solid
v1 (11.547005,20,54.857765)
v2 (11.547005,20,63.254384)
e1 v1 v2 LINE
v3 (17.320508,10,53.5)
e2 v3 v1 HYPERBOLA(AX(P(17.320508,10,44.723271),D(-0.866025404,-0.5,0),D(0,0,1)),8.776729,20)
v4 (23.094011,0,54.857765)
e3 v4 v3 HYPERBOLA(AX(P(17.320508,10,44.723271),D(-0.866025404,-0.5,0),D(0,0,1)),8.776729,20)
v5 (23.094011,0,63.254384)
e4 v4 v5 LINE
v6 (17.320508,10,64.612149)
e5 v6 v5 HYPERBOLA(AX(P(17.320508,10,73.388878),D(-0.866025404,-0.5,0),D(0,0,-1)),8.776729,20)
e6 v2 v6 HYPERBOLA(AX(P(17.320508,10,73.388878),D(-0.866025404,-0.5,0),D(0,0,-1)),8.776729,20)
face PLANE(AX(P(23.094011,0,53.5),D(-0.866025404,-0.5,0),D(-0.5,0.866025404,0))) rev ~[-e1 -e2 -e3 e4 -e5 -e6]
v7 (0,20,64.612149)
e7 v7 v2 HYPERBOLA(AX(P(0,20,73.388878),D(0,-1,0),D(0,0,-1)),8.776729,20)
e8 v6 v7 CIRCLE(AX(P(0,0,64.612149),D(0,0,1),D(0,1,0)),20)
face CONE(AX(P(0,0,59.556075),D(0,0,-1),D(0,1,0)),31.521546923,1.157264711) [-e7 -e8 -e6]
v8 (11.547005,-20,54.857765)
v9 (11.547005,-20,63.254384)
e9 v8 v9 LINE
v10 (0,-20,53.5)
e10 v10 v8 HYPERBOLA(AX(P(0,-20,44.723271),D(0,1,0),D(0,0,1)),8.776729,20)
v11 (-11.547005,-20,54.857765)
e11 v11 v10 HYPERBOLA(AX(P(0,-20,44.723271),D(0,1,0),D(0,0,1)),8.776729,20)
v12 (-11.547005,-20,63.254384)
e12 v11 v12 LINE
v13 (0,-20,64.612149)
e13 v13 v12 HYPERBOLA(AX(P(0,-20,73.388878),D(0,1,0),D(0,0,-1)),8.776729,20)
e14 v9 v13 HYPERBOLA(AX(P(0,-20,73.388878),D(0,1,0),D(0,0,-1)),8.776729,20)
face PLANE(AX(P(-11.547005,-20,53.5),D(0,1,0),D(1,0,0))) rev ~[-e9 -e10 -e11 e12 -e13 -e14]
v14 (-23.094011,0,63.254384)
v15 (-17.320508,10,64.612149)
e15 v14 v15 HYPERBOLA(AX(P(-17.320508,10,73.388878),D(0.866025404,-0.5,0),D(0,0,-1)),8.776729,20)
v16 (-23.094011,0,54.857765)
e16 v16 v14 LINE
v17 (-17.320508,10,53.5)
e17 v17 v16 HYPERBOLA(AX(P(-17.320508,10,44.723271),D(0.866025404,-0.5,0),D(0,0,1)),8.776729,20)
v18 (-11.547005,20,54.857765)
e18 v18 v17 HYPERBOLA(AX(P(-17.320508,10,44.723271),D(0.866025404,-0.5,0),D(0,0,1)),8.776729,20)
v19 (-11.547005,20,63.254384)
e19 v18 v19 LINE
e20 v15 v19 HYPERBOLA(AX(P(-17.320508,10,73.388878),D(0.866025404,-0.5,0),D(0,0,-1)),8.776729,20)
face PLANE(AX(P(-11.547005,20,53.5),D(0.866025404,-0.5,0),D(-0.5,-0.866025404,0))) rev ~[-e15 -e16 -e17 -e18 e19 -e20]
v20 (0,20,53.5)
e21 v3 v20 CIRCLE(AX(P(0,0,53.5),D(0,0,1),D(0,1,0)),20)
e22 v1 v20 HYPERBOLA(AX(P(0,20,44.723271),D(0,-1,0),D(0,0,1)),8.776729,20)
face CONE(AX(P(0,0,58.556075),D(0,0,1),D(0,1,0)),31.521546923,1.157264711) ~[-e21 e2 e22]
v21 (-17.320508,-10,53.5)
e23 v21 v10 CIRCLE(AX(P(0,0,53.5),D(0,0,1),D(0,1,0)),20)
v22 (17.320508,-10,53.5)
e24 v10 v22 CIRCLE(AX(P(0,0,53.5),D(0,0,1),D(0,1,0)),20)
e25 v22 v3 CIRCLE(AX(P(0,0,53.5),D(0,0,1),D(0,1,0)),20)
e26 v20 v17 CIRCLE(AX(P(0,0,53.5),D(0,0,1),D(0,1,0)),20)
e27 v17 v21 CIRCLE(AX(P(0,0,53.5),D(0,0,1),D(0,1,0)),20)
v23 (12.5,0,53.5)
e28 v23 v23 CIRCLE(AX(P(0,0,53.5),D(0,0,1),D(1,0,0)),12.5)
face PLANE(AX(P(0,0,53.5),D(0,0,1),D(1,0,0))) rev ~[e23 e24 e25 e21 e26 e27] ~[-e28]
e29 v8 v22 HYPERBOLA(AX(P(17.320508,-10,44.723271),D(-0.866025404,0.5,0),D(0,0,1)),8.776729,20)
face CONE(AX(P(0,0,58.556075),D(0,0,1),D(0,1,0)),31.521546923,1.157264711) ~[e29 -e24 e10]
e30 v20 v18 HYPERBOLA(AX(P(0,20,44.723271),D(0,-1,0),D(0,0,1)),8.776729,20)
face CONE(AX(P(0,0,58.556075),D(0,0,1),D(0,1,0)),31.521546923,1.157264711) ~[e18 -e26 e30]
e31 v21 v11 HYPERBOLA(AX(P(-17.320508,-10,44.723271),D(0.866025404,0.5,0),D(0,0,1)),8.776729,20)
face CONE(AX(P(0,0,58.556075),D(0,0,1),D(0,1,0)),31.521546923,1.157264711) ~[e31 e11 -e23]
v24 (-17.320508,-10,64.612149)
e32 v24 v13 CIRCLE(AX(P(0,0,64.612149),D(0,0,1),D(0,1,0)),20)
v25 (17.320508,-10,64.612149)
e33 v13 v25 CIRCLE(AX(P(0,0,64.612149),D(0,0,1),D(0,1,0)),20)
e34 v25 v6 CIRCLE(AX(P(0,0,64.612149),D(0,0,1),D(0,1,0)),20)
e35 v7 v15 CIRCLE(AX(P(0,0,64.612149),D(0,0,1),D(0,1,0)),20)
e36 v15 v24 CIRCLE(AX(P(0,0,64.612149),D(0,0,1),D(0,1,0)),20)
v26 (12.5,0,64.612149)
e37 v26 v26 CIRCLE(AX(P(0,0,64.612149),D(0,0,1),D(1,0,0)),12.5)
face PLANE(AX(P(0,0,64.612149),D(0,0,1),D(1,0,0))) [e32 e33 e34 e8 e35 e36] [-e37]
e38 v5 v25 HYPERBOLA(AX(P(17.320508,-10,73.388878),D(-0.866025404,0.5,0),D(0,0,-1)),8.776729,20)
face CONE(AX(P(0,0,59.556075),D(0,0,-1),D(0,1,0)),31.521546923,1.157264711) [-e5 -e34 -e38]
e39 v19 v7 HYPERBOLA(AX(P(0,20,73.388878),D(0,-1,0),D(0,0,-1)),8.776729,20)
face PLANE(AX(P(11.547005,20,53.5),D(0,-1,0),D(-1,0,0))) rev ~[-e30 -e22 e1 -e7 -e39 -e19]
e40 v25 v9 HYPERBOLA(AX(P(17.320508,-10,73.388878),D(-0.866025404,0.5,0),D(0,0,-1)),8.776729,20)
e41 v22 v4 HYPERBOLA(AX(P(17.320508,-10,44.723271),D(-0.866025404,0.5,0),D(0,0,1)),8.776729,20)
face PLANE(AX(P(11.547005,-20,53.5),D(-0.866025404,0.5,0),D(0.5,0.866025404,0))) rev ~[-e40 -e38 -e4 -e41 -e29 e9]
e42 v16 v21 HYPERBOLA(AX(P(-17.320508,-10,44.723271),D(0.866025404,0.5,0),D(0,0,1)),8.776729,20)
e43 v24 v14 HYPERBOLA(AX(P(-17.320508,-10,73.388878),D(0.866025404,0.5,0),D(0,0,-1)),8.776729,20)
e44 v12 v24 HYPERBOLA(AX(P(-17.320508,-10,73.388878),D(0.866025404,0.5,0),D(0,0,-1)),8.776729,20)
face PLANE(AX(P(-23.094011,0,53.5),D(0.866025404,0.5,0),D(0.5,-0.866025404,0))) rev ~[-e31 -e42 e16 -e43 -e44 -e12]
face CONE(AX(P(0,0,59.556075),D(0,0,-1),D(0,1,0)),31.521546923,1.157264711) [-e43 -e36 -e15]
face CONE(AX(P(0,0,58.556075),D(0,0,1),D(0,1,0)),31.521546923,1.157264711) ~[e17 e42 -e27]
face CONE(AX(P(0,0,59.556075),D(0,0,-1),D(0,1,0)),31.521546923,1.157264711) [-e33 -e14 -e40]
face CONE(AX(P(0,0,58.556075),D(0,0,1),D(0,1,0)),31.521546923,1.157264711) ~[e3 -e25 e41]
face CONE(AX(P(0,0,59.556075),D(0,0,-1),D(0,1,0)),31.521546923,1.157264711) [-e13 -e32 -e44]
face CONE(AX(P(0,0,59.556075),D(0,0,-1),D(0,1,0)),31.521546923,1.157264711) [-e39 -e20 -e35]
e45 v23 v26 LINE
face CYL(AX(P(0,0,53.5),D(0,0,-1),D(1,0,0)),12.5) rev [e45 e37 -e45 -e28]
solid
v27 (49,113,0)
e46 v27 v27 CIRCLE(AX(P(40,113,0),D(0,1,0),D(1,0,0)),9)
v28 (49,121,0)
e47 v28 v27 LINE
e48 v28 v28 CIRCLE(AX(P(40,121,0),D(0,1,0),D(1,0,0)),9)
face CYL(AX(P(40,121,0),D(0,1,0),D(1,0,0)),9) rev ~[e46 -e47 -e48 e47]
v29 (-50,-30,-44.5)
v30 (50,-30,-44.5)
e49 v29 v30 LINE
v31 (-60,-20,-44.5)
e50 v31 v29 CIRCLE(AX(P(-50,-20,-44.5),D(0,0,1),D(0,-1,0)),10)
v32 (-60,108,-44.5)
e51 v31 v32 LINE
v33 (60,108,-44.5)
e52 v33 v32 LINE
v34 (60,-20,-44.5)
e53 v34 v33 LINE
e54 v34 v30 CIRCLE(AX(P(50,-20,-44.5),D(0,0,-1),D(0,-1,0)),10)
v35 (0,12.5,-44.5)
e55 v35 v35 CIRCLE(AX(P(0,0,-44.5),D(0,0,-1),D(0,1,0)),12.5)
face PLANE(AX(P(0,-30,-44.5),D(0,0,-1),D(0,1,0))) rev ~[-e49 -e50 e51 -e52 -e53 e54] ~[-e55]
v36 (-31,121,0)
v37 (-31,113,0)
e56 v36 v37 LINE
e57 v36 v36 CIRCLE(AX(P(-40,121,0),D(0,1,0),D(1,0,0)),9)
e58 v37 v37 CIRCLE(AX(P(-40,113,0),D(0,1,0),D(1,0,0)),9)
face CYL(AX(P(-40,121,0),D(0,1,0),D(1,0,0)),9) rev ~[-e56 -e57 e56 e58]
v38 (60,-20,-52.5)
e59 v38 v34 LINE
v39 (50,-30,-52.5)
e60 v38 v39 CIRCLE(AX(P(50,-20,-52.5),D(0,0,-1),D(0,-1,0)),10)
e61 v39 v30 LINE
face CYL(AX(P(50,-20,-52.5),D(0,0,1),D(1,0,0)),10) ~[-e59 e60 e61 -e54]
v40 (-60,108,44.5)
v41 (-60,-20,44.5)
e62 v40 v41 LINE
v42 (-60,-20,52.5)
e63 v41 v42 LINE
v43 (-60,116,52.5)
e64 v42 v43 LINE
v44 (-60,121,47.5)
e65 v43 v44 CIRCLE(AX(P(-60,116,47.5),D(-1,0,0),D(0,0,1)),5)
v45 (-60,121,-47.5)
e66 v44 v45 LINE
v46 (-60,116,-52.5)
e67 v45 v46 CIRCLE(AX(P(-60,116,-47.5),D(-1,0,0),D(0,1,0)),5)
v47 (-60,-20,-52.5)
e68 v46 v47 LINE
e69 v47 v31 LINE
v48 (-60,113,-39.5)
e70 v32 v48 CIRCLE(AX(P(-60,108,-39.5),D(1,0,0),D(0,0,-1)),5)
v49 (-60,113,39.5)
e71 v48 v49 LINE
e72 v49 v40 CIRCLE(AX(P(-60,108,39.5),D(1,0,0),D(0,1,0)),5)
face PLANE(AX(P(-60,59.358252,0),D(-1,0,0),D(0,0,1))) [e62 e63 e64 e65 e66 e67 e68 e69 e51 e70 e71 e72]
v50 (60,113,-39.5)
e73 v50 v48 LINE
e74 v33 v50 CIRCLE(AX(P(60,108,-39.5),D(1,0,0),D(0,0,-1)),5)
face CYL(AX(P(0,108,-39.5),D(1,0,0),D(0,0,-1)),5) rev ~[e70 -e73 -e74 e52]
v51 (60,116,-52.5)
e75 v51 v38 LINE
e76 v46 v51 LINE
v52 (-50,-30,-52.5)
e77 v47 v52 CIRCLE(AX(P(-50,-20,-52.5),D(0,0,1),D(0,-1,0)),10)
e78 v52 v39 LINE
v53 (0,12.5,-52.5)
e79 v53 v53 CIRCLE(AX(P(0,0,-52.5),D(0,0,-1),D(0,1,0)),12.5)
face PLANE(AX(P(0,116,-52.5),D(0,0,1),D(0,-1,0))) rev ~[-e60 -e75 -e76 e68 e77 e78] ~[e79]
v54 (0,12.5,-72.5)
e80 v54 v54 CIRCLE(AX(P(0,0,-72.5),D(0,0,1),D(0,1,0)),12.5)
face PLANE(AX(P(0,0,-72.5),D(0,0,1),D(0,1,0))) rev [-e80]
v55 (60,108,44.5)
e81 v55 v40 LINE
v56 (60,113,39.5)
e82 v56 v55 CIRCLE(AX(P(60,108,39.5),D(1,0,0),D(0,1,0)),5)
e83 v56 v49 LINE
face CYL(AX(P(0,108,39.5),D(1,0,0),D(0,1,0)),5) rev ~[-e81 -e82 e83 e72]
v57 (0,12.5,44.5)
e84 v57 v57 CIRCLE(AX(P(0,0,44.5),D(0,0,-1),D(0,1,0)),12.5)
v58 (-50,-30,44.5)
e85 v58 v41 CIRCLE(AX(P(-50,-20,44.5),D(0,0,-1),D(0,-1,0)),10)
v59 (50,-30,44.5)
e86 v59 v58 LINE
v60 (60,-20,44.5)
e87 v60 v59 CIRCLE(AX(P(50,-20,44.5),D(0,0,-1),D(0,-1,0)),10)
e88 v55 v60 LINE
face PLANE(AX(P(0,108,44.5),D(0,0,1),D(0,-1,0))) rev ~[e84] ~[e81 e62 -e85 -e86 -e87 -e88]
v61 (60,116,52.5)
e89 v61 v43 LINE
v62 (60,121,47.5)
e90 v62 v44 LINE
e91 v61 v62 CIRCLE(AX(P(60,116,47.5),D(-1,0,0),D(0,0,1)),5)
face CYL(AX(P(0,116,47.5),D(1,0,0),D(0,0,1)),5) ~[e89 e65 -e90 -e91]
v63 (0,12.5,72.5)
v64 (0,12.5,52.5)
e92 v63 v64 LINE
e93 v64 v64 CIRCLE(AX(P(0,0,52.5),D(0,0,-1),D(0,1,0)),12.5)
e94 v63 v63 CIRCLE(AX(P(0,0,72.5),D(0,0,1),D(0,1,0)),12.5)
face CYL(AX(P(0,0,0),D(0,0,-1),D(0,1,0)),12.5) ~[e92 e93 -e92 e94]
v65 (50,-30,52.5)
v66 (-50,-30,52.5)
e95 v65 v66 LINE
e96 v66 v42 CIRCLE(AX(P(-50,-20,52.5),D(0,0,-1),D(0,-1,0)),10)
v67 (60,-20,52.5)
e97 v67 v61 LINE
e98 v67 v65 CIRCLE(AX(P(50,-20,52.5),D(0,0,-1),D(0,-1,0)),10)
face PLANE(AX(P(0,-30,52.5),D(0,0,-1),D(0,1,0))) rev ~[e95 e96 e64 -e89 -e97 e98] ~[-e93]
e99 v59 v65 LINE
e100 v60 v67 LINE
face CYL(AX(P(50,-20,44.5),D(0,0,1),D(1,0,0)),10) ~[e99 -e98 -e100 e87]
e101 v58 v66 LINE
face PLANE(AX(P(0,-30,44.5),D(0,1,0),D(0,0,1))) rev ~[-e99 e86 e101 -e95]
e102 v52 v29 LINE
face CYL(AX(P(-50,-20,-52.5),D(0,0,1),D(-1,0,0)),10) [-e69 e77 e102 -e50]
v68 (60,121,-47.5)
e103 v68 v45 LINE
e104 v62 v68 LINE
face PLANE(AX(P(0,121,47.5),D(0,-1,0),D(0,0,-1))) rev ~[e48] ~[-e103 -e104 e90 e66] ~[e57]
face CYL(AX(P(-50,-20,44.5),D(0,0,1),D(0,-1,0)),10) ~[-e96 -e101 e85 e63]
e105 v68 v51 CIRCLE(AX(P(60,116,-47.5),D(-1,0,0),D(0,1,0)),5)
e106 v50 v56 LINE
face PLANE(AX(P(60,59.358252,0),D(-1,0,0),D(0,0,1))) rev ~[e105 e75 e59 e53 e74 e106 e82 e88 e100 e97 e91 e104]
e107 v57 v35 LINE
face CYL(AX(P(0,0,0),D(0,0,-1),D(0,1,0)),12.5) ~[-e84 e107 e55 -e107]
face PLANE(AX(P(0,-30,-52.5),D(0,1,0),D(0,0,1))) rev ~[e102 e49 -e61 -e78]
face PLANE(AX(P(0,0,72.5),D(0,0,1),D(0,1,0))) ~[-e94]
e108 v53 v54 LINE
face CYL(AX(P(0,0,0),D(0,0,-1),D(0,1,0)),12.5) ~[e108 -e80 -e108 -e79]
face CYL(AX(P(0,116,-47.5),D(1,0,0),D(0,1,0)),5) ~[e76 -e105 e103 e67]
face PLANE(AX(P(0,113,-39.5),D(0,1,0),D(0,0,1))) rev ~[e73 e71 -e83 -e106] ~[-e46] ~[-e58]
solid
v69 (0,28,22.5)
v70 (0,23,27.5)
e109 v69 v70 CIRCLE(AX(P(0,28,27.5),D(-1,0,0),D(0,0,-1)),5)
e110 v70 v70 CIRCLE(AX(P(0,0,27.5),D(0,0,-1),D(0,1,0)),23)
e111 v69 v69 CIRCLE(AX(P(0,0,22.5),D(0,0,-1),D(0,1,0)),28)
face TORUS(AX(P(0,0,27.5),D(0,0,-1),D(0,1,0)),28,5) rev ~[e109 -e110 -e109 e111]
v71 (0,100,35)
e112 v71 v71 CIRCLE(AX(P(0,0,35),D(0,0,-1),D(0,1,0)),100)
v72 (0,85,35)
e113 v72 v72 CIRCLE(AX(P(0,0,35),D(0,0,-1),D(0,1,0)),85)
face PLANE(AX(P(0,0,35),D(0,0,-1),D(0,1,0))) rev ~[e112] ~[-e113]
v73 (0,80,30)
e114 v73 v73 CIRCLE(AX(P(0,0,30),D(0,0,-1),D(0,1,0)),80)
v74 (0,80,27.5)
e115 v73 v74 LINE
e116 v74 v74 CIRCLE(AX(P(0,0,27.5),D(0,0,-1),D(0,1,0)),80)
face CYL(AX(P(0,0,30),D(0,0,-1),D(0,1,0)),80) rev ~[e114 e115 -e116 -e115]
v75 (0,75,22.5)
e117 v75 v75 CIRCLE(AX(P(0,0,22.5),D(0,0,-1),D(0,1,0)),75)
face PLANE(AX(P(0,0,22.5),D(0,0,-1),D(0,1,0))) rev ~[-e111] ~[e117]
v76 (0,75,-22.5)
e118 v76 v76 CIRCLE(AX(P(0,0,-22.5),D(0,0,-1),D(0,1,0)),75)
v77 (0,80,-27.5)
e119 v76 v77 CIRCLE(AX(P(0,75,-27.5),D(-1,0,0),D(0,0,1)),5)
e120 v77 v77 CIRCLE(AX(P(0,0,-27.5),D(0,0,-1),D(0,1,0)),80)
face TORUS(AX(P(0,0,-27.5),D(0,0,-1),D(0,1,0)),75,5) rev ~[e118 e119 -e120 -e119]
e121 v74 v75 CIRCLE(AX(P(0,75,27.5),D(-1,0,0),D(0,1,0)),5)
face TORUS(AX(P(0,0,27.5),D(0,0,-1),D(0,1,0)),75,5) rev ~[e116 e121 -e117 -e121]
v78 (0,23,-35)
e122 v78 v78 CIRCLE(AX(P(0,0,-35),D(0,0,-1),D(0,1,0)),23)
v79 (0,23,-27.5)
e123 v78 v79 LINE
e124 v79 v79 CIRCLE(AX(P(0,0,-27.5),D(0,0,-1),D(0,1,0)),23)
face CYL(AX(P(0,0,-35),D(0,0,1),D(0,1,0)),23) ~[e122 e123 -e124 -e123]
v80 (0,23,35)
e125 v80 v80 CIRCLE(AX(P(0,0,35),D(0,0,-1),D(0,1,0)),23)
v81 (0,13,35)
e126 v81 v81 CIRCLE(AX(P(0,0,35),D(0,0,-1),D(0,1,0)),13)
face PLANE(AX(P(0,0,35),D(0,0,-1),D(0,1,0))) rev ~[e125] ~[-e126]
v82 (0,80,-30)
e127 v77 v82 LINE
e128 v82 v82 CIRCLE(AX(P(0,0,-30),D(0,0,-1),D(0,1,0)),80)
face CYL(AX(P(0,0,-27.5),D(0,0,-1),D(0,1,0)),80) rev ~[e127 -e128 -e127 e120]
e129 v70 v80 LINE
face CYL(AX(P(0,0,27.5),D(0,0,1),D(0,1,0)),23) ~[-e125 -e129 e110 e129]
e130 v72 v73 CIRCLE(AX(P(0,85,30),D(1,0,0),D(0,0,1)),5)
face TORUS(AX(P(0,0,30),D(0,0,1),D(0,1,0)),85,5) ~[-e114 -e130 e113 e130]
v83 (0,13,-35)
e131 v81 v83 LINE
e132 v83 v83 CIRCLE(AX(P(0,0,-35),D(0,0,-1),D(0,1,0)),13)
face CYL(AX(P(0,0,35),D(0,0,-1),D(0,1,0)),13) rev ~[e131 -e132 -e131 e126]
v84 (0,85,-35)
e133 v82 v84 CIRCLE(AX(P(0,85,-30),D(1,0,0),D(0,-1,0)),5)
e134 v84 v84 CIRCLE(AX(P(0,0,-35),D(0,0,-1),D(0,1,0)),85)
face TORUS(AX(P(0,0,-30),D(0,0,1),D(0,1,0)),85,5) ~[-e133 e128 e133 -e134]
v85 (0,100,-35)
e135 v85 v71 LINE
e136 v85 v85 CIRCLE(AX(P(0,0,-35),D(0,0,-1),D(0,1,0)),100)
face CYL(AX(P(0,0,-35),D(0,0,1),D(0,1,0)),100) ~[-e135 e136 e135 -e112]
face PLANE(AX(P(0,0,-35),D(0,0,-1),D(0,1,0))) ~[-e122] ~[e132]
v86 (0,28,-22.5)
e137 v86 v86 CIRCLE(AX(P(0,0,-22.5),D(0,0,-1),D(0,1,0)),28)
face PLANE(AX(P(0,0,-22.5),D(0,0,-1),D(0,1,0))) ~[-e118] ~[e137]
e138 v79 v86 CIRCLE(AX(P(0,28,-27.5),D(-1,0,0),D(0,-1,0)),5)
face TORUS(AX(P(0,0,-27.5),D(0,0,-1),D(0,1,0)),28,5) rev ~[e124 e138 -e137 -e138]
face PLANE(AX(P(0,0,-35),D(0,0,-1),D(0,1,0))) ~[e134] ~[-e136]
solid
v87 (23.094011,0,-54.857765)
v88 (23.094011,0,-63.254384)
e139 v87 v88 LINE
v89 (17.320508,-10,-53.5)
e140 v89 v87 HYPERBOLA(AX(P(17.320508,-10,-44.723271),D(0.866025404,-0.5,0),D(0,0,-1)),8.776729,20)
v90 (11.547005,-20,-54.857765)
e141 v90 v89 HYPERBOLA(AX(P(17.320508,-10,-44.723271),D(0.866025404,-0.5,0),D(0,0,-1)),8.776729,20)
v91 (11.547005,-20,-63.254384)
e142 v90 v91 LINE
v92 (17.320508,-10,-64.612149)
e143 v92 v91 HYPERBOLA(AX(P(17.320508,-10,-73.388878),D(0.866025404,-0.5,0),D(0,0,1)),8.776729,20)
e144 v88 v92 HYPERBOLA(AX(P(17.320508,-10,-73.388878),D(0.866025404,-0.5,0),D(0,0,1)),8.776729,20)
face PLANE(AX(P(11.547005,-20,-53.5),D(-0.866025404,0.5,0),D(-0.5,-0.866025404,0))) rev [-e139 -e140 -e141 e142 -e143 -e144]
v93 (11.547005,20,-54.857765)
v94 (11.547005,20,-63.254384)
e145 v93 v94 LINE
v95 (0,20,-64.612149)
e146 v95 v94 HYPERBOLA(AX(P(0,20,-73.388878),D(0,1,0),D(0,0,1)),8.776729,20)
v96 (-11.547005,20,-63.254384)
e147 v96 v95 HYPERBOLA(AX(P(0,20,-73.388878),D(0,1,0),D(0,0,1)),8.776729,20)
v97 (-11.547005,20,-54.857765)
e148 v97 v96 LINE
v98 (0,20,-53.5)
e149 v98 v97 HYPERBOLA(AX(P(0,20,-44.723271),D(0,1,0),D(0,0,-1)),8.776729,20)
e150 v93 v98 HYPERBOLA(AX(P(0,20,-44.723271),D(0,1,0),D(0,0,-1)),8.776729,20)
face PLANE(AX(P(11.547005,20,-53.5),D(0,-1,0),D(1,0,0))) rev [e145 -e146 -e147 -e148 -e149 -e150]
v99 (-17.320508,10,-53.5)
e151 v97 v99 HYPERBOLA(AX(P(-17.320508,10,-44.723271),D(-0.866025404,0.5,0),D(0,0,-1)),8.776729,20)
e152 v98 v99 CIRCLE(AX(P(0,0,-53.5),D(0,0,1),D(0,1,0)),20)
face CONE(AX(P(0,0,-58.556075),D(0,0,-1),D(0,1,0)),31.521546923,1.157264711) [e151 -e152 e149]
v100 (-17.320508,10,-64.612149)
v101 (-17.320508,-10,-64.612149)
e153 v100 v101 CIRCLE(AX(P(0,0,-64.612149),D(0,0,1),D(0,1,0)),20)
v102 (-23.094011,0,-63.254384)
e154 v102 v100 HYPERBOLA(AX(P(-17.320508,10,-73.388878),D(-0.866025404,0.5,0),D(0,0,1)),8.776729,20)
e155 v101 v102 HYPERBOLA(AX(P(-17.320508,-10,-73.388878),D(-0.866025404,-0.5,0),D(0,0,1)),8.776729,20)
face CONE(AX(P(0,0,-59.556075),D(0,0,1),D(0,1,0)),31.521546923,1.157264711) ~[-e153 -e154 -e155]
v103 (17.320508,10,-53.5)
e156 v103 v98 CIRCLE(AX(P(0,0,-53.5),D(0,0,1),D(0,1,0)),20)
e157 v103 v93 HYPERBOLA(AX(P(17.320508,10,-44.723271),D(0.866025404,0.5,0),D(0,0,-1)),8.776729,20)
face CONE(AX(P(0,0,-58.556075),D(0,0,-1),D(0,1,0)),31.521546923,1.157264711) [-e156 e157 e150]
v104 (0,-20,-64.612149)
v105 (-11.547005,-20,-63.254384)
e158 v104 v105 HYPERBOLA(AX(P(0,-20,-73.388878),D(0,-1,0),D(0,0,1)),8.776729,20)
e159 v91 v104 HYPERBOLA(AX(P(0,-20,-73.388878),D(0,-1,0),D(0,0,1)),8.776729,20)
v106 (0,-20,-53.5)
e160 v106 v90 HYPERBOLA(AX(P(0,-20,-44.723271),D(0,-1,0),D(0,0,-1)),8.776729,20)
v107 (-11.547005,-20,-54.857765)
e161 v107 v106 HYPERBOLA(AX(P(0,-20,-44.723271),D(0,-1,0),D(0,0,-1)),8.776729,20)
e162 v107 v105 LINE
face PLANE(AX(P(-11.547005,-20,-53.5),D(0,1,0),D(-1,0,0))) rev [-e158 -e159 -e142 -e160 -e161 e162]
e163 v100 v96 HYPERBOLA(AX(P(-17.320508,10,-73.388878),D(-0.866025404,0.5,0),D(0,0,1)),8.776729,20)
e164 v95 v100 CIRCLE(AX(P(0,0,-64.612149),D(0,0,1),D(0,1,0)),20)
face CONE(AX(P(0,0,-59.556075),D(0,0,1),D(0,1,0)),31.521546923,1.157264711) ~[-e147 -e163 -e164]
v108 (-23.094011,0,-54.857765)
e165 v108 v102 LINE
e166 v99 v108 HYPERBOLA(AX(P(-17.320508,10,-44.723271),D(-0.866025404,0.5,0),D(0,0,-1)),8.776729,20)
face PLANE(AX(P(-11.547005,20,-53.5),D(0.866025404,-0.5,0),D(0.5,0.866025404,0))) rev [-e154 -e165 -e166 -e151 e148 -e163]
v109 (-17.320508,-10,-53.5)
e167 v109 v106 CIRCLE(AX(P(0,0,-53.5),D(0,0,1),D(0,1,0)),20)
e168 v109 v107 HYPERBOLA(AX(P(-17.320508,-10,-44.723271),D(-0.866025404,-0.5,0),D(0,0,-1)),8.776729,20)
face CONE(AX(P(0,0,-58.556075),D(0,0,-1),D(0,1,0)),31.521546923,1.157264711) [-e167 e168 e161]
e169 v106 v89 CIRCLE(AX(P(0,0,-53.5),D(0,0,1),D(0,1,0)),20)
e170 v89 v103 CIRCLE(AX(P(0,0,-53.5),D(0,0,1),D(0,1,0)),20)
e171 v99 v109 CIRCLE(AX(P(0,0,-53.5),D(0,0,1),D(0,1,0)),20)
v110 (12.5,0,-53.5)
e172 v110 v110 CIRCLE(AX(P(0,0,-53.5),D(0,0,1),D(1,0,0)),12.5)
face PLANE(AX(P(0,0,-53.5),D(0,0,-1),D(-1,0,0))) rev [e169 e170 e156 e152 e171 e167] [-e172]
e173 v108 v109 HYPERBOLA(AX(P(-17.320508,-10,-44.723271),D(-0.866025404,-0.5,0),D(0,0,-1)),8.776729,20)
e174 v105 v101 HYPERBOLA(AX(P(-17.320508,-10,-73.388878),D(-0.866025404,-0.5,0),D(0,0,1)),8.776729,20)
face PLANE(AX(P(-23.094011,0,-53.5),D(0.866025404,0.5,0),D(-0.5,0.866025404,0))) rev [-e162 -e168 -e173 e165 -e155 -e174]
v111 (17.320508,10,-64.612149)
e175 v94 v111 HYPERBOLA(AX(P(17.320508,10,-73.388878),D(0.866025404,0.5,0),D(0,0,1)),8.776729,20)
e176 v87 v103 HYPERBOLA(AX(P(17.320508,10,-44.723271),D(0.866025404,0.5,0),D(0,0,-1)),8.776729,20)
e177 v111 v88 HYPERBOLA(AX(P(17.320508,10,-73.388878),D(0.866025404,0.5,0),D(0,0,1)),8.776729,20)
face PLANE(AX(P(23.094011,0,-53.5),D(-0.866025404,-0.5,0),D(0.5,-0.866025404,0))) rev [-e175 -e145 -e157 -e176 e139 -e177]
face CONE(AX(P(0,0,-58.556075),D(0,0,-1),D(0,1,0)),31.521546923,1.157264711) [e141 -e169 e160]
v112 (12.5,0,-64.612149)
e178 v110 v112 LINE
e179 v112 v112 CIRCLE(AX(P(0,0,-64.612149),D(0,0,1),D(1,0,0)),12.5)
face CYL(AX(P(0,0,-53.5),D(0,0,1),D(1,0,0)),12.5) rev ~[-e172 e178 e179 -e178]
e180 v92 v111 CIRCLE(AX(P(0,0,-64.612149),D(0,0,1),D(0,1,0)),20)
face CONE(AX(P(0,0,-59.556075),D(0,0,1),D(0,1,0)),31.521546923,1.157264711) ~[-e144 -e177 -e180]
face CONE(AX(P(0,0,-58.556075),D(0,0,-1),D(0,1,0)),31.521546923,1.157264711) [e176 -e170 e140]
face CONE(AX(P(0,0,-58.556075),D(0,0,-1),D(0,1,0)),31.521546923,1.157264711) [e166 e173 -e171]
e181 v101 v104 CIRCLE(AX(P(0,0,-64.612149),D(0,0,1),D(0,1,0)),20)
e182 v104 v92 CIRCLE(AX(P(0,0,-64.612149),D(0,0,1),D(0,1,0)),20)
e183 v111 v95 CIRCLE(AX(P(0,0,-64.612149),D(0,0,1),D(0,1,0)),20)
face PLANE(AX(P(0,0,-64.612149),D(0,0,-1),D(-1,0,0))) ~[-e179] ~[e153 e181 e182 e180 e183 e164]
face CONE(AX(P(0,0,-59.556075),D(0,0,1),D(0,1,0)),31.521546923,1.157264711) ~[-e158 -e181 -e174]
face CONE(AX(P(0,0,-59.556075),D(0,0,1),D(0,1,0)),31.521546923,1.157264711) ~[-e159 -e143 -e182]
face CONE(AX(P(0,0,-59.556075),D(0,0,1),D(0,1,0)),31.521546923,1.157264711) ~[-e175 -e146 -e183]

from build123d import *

# Parameters (mm, degrees)
BOSS_EXTRUDE1_DEPTH = 60
FILLET2_R           = 10
SKETCH3_R           = 11.831543401
CUT_EXTRUDE1_DEPTH  = 106
SKETCH4_W           = 145
SKETCH4_H           = 12.5
BOSS_EXTRUDE2_START = 1
SKETCH5_R           = 12.5
BOSS_EXTRUDE2_DEPTH = 11.112149029
SKETCH10_R          = 9
CUT_EXTRUDE2_DEPTH  = 10


with BuildPart() as part:
    # Sketch1 → Revolve1 (revolve)
    with BuildSketch(Plane(origin=(0, 0, 0), x_dir=(0, 0, -1), z_dir=(1, 0, 0))):
        with BuildLine():
            Line((27.5, 80), (30, 80))
            ThreePointArc((30, 80), (33.535533906, 81.464466094), (35, 85))
            Line((35, 85), (35, 100))
            Line((35, 100), (-35, 100))
            Line((-35, 100), (-35, 85))
            ThreePointArc((-35, 85), (-33.535533906, 81.464466094), (-30, 80))
            Line((-30, 80), (-27.5, 80))
            ThreePointArc((-27.5, 80), (-23.964466094, 78.535533906), (-22.5, 75))
            Line((-22.5, 75), (-22.5, 28))
            ThreePointArc((-22.5, 28), (-23.964466094, 24.464466094), (-27.5, 23))
            Line((-27.5, 23), (-35, 23))
            Line((-35, 23), (-35, 13))
            Line((-35, 13), (-7.5, 13))
            Line((-7.5, 13), (7.5, 13))
            Line((7.5, 13), (35, 13))
            Line((35, 13), (35, 23))
            Line((35, 23), (27.5, 23))
            ThreePointArc((27.5, 23), (23.964466094, 24.464466094), (22.5, 28))
            Line((22.5, 28), (22.5, 75))
            ThreePointArc((22.5, 75), (23.964466094, 78.535533906), (27.5, 80))
        make_face()
    revolve(axis=Axis((0, 0, 35), (0, 0, -1)))


with BuildPart() as body_2:
    # Sketch2 → Boss-Extrude1 (new body, symmetric)
    with BuildSketch(Plane(origin=(0, 0, 0), x_dir=(0, 0, -1), z_dir=(1, 0, 0))):
        with BuildLine():
            Line((44.5, -30), (44.5, 108))
            ThreePointArc((44.5, 108), (43.035533906, 111.535533906), (39.5, 113))
            Line((39.5, 113), (-39.5, 113))
            ThreePointArc((-39.5, 113), (-43.035533906, 111.535533906), (-44.5, 108))
            Line((-44.5, 108), (-44.5, -30))
            Line((-44.5, -30), (-52.5, -30))
            Line((-52.5, -30), (-52.5, 116))
            ThreePointArc((-52.5, 116), (-51.035533906, 119.535533906), (-47.5, 121))
            Line((-47.5, 121), (47.5, 121))
            ThreePointArc((47.5, 121), (51.035533906, 119.535533906), (52.5, 116))
            Line((52.5, 116), (52.5, -30))
            Line((52.5, -30), (44.5, -30))
        make_face()
    extrude(amount=BOSS_EXTRUDE1_DEPTH, both=True)

    # Fillet2
    fillet2_edges = [body_2.edges().sort_by_distance(p)[0] for p in [
        (-60, -30, 48.5),
        (-60, -30, -48.5),
        (60, -30, 48.5),
        (60, -30, -48.5),
    ]]
    fillet(fillet2_edges, radius=FILLET2_R)

    # Sketch3 → Cut-Extrude1 (cut, through all)
    with BuildSketch(Plane.XY.offset(52.5)):
        Circle(SKETCH3_R)
    extrude(amount=-CUT_EXTRUDE1_DEPTH, mode=Mode.SUBTRACT)

    # Sketch4 → Revolve2 (revolve)
    with BuildSketch(Plane(origin=(0, 0, 0), x_dir=(0, 0, -1), z_dir=(1, 0, 0))):
        with Locations((0, 6.25)):
            Rectangle(SKETCH4_W, SKETCH4_H)
    revolve(axis=Axis((0, 0, -72.5), (0, 0, 1)))

    # Sketch10 → Cut-Extrude2 (cut)
    with BuildSketch(Plane(origin=(0, 121, 0), x_dir=(1, 0, 0), z_dir=(0, 1, 0))):
        with Locations((40, 0)):
            Circle(SKETCH10_R)
        with Locations((-40, 0)):
            Circle(SKETCH10_R)
    extrude(amount=-CUT_EXTRUDE2_DEPTH, mode=Mode.SUBTRACT)


with BuildPart() as body_3:
    # Sketch5 → Boss-Extrude2 (new body)
    with BuildSketch(Plane.XY.offset(52.5).offset(BOSS_EXTRUDE2_START)):
        Polygon((-11.547005384, 20), (-23.094010768, 0), (-11.547005384, -20), (11.547005384, -20), (23.094010768, 0), (11.547005384, 20), align=None)
        Circle(SKETCH5_R, mode=Mode.SUBTRACT)
    extrude(amount=BOSS_EXTRUDE2_DEPTH)

    # Sketch6 → Cut-Revolve1 (revolve, cut)
    with BuildSketch(Plane(origin=(0, 0, 0), x_dir=(0, 0, -1), z_dir=(1, 0, 0))):
        Polygon((-53.5, 20), (-53.5, 31.521546923), (-58.556074515, 31.521546923), align=None)
        Polygon((-59.556074515, 31.521546923), (-64.612149029, 20), (-64.612149029, 31.521546923), align=None)
    revolve(axis=Axis((0, 0, 0), (0, 0, 1)), mode=Mode.SUBTRACT)


with BuildPart() as body_4:
    # Mirror2: mirrored copy
    add(body_3.part.mirror(Plane.XY))


solid = Compound([part.part, body_2.part, body_3.part, body_4.part])
